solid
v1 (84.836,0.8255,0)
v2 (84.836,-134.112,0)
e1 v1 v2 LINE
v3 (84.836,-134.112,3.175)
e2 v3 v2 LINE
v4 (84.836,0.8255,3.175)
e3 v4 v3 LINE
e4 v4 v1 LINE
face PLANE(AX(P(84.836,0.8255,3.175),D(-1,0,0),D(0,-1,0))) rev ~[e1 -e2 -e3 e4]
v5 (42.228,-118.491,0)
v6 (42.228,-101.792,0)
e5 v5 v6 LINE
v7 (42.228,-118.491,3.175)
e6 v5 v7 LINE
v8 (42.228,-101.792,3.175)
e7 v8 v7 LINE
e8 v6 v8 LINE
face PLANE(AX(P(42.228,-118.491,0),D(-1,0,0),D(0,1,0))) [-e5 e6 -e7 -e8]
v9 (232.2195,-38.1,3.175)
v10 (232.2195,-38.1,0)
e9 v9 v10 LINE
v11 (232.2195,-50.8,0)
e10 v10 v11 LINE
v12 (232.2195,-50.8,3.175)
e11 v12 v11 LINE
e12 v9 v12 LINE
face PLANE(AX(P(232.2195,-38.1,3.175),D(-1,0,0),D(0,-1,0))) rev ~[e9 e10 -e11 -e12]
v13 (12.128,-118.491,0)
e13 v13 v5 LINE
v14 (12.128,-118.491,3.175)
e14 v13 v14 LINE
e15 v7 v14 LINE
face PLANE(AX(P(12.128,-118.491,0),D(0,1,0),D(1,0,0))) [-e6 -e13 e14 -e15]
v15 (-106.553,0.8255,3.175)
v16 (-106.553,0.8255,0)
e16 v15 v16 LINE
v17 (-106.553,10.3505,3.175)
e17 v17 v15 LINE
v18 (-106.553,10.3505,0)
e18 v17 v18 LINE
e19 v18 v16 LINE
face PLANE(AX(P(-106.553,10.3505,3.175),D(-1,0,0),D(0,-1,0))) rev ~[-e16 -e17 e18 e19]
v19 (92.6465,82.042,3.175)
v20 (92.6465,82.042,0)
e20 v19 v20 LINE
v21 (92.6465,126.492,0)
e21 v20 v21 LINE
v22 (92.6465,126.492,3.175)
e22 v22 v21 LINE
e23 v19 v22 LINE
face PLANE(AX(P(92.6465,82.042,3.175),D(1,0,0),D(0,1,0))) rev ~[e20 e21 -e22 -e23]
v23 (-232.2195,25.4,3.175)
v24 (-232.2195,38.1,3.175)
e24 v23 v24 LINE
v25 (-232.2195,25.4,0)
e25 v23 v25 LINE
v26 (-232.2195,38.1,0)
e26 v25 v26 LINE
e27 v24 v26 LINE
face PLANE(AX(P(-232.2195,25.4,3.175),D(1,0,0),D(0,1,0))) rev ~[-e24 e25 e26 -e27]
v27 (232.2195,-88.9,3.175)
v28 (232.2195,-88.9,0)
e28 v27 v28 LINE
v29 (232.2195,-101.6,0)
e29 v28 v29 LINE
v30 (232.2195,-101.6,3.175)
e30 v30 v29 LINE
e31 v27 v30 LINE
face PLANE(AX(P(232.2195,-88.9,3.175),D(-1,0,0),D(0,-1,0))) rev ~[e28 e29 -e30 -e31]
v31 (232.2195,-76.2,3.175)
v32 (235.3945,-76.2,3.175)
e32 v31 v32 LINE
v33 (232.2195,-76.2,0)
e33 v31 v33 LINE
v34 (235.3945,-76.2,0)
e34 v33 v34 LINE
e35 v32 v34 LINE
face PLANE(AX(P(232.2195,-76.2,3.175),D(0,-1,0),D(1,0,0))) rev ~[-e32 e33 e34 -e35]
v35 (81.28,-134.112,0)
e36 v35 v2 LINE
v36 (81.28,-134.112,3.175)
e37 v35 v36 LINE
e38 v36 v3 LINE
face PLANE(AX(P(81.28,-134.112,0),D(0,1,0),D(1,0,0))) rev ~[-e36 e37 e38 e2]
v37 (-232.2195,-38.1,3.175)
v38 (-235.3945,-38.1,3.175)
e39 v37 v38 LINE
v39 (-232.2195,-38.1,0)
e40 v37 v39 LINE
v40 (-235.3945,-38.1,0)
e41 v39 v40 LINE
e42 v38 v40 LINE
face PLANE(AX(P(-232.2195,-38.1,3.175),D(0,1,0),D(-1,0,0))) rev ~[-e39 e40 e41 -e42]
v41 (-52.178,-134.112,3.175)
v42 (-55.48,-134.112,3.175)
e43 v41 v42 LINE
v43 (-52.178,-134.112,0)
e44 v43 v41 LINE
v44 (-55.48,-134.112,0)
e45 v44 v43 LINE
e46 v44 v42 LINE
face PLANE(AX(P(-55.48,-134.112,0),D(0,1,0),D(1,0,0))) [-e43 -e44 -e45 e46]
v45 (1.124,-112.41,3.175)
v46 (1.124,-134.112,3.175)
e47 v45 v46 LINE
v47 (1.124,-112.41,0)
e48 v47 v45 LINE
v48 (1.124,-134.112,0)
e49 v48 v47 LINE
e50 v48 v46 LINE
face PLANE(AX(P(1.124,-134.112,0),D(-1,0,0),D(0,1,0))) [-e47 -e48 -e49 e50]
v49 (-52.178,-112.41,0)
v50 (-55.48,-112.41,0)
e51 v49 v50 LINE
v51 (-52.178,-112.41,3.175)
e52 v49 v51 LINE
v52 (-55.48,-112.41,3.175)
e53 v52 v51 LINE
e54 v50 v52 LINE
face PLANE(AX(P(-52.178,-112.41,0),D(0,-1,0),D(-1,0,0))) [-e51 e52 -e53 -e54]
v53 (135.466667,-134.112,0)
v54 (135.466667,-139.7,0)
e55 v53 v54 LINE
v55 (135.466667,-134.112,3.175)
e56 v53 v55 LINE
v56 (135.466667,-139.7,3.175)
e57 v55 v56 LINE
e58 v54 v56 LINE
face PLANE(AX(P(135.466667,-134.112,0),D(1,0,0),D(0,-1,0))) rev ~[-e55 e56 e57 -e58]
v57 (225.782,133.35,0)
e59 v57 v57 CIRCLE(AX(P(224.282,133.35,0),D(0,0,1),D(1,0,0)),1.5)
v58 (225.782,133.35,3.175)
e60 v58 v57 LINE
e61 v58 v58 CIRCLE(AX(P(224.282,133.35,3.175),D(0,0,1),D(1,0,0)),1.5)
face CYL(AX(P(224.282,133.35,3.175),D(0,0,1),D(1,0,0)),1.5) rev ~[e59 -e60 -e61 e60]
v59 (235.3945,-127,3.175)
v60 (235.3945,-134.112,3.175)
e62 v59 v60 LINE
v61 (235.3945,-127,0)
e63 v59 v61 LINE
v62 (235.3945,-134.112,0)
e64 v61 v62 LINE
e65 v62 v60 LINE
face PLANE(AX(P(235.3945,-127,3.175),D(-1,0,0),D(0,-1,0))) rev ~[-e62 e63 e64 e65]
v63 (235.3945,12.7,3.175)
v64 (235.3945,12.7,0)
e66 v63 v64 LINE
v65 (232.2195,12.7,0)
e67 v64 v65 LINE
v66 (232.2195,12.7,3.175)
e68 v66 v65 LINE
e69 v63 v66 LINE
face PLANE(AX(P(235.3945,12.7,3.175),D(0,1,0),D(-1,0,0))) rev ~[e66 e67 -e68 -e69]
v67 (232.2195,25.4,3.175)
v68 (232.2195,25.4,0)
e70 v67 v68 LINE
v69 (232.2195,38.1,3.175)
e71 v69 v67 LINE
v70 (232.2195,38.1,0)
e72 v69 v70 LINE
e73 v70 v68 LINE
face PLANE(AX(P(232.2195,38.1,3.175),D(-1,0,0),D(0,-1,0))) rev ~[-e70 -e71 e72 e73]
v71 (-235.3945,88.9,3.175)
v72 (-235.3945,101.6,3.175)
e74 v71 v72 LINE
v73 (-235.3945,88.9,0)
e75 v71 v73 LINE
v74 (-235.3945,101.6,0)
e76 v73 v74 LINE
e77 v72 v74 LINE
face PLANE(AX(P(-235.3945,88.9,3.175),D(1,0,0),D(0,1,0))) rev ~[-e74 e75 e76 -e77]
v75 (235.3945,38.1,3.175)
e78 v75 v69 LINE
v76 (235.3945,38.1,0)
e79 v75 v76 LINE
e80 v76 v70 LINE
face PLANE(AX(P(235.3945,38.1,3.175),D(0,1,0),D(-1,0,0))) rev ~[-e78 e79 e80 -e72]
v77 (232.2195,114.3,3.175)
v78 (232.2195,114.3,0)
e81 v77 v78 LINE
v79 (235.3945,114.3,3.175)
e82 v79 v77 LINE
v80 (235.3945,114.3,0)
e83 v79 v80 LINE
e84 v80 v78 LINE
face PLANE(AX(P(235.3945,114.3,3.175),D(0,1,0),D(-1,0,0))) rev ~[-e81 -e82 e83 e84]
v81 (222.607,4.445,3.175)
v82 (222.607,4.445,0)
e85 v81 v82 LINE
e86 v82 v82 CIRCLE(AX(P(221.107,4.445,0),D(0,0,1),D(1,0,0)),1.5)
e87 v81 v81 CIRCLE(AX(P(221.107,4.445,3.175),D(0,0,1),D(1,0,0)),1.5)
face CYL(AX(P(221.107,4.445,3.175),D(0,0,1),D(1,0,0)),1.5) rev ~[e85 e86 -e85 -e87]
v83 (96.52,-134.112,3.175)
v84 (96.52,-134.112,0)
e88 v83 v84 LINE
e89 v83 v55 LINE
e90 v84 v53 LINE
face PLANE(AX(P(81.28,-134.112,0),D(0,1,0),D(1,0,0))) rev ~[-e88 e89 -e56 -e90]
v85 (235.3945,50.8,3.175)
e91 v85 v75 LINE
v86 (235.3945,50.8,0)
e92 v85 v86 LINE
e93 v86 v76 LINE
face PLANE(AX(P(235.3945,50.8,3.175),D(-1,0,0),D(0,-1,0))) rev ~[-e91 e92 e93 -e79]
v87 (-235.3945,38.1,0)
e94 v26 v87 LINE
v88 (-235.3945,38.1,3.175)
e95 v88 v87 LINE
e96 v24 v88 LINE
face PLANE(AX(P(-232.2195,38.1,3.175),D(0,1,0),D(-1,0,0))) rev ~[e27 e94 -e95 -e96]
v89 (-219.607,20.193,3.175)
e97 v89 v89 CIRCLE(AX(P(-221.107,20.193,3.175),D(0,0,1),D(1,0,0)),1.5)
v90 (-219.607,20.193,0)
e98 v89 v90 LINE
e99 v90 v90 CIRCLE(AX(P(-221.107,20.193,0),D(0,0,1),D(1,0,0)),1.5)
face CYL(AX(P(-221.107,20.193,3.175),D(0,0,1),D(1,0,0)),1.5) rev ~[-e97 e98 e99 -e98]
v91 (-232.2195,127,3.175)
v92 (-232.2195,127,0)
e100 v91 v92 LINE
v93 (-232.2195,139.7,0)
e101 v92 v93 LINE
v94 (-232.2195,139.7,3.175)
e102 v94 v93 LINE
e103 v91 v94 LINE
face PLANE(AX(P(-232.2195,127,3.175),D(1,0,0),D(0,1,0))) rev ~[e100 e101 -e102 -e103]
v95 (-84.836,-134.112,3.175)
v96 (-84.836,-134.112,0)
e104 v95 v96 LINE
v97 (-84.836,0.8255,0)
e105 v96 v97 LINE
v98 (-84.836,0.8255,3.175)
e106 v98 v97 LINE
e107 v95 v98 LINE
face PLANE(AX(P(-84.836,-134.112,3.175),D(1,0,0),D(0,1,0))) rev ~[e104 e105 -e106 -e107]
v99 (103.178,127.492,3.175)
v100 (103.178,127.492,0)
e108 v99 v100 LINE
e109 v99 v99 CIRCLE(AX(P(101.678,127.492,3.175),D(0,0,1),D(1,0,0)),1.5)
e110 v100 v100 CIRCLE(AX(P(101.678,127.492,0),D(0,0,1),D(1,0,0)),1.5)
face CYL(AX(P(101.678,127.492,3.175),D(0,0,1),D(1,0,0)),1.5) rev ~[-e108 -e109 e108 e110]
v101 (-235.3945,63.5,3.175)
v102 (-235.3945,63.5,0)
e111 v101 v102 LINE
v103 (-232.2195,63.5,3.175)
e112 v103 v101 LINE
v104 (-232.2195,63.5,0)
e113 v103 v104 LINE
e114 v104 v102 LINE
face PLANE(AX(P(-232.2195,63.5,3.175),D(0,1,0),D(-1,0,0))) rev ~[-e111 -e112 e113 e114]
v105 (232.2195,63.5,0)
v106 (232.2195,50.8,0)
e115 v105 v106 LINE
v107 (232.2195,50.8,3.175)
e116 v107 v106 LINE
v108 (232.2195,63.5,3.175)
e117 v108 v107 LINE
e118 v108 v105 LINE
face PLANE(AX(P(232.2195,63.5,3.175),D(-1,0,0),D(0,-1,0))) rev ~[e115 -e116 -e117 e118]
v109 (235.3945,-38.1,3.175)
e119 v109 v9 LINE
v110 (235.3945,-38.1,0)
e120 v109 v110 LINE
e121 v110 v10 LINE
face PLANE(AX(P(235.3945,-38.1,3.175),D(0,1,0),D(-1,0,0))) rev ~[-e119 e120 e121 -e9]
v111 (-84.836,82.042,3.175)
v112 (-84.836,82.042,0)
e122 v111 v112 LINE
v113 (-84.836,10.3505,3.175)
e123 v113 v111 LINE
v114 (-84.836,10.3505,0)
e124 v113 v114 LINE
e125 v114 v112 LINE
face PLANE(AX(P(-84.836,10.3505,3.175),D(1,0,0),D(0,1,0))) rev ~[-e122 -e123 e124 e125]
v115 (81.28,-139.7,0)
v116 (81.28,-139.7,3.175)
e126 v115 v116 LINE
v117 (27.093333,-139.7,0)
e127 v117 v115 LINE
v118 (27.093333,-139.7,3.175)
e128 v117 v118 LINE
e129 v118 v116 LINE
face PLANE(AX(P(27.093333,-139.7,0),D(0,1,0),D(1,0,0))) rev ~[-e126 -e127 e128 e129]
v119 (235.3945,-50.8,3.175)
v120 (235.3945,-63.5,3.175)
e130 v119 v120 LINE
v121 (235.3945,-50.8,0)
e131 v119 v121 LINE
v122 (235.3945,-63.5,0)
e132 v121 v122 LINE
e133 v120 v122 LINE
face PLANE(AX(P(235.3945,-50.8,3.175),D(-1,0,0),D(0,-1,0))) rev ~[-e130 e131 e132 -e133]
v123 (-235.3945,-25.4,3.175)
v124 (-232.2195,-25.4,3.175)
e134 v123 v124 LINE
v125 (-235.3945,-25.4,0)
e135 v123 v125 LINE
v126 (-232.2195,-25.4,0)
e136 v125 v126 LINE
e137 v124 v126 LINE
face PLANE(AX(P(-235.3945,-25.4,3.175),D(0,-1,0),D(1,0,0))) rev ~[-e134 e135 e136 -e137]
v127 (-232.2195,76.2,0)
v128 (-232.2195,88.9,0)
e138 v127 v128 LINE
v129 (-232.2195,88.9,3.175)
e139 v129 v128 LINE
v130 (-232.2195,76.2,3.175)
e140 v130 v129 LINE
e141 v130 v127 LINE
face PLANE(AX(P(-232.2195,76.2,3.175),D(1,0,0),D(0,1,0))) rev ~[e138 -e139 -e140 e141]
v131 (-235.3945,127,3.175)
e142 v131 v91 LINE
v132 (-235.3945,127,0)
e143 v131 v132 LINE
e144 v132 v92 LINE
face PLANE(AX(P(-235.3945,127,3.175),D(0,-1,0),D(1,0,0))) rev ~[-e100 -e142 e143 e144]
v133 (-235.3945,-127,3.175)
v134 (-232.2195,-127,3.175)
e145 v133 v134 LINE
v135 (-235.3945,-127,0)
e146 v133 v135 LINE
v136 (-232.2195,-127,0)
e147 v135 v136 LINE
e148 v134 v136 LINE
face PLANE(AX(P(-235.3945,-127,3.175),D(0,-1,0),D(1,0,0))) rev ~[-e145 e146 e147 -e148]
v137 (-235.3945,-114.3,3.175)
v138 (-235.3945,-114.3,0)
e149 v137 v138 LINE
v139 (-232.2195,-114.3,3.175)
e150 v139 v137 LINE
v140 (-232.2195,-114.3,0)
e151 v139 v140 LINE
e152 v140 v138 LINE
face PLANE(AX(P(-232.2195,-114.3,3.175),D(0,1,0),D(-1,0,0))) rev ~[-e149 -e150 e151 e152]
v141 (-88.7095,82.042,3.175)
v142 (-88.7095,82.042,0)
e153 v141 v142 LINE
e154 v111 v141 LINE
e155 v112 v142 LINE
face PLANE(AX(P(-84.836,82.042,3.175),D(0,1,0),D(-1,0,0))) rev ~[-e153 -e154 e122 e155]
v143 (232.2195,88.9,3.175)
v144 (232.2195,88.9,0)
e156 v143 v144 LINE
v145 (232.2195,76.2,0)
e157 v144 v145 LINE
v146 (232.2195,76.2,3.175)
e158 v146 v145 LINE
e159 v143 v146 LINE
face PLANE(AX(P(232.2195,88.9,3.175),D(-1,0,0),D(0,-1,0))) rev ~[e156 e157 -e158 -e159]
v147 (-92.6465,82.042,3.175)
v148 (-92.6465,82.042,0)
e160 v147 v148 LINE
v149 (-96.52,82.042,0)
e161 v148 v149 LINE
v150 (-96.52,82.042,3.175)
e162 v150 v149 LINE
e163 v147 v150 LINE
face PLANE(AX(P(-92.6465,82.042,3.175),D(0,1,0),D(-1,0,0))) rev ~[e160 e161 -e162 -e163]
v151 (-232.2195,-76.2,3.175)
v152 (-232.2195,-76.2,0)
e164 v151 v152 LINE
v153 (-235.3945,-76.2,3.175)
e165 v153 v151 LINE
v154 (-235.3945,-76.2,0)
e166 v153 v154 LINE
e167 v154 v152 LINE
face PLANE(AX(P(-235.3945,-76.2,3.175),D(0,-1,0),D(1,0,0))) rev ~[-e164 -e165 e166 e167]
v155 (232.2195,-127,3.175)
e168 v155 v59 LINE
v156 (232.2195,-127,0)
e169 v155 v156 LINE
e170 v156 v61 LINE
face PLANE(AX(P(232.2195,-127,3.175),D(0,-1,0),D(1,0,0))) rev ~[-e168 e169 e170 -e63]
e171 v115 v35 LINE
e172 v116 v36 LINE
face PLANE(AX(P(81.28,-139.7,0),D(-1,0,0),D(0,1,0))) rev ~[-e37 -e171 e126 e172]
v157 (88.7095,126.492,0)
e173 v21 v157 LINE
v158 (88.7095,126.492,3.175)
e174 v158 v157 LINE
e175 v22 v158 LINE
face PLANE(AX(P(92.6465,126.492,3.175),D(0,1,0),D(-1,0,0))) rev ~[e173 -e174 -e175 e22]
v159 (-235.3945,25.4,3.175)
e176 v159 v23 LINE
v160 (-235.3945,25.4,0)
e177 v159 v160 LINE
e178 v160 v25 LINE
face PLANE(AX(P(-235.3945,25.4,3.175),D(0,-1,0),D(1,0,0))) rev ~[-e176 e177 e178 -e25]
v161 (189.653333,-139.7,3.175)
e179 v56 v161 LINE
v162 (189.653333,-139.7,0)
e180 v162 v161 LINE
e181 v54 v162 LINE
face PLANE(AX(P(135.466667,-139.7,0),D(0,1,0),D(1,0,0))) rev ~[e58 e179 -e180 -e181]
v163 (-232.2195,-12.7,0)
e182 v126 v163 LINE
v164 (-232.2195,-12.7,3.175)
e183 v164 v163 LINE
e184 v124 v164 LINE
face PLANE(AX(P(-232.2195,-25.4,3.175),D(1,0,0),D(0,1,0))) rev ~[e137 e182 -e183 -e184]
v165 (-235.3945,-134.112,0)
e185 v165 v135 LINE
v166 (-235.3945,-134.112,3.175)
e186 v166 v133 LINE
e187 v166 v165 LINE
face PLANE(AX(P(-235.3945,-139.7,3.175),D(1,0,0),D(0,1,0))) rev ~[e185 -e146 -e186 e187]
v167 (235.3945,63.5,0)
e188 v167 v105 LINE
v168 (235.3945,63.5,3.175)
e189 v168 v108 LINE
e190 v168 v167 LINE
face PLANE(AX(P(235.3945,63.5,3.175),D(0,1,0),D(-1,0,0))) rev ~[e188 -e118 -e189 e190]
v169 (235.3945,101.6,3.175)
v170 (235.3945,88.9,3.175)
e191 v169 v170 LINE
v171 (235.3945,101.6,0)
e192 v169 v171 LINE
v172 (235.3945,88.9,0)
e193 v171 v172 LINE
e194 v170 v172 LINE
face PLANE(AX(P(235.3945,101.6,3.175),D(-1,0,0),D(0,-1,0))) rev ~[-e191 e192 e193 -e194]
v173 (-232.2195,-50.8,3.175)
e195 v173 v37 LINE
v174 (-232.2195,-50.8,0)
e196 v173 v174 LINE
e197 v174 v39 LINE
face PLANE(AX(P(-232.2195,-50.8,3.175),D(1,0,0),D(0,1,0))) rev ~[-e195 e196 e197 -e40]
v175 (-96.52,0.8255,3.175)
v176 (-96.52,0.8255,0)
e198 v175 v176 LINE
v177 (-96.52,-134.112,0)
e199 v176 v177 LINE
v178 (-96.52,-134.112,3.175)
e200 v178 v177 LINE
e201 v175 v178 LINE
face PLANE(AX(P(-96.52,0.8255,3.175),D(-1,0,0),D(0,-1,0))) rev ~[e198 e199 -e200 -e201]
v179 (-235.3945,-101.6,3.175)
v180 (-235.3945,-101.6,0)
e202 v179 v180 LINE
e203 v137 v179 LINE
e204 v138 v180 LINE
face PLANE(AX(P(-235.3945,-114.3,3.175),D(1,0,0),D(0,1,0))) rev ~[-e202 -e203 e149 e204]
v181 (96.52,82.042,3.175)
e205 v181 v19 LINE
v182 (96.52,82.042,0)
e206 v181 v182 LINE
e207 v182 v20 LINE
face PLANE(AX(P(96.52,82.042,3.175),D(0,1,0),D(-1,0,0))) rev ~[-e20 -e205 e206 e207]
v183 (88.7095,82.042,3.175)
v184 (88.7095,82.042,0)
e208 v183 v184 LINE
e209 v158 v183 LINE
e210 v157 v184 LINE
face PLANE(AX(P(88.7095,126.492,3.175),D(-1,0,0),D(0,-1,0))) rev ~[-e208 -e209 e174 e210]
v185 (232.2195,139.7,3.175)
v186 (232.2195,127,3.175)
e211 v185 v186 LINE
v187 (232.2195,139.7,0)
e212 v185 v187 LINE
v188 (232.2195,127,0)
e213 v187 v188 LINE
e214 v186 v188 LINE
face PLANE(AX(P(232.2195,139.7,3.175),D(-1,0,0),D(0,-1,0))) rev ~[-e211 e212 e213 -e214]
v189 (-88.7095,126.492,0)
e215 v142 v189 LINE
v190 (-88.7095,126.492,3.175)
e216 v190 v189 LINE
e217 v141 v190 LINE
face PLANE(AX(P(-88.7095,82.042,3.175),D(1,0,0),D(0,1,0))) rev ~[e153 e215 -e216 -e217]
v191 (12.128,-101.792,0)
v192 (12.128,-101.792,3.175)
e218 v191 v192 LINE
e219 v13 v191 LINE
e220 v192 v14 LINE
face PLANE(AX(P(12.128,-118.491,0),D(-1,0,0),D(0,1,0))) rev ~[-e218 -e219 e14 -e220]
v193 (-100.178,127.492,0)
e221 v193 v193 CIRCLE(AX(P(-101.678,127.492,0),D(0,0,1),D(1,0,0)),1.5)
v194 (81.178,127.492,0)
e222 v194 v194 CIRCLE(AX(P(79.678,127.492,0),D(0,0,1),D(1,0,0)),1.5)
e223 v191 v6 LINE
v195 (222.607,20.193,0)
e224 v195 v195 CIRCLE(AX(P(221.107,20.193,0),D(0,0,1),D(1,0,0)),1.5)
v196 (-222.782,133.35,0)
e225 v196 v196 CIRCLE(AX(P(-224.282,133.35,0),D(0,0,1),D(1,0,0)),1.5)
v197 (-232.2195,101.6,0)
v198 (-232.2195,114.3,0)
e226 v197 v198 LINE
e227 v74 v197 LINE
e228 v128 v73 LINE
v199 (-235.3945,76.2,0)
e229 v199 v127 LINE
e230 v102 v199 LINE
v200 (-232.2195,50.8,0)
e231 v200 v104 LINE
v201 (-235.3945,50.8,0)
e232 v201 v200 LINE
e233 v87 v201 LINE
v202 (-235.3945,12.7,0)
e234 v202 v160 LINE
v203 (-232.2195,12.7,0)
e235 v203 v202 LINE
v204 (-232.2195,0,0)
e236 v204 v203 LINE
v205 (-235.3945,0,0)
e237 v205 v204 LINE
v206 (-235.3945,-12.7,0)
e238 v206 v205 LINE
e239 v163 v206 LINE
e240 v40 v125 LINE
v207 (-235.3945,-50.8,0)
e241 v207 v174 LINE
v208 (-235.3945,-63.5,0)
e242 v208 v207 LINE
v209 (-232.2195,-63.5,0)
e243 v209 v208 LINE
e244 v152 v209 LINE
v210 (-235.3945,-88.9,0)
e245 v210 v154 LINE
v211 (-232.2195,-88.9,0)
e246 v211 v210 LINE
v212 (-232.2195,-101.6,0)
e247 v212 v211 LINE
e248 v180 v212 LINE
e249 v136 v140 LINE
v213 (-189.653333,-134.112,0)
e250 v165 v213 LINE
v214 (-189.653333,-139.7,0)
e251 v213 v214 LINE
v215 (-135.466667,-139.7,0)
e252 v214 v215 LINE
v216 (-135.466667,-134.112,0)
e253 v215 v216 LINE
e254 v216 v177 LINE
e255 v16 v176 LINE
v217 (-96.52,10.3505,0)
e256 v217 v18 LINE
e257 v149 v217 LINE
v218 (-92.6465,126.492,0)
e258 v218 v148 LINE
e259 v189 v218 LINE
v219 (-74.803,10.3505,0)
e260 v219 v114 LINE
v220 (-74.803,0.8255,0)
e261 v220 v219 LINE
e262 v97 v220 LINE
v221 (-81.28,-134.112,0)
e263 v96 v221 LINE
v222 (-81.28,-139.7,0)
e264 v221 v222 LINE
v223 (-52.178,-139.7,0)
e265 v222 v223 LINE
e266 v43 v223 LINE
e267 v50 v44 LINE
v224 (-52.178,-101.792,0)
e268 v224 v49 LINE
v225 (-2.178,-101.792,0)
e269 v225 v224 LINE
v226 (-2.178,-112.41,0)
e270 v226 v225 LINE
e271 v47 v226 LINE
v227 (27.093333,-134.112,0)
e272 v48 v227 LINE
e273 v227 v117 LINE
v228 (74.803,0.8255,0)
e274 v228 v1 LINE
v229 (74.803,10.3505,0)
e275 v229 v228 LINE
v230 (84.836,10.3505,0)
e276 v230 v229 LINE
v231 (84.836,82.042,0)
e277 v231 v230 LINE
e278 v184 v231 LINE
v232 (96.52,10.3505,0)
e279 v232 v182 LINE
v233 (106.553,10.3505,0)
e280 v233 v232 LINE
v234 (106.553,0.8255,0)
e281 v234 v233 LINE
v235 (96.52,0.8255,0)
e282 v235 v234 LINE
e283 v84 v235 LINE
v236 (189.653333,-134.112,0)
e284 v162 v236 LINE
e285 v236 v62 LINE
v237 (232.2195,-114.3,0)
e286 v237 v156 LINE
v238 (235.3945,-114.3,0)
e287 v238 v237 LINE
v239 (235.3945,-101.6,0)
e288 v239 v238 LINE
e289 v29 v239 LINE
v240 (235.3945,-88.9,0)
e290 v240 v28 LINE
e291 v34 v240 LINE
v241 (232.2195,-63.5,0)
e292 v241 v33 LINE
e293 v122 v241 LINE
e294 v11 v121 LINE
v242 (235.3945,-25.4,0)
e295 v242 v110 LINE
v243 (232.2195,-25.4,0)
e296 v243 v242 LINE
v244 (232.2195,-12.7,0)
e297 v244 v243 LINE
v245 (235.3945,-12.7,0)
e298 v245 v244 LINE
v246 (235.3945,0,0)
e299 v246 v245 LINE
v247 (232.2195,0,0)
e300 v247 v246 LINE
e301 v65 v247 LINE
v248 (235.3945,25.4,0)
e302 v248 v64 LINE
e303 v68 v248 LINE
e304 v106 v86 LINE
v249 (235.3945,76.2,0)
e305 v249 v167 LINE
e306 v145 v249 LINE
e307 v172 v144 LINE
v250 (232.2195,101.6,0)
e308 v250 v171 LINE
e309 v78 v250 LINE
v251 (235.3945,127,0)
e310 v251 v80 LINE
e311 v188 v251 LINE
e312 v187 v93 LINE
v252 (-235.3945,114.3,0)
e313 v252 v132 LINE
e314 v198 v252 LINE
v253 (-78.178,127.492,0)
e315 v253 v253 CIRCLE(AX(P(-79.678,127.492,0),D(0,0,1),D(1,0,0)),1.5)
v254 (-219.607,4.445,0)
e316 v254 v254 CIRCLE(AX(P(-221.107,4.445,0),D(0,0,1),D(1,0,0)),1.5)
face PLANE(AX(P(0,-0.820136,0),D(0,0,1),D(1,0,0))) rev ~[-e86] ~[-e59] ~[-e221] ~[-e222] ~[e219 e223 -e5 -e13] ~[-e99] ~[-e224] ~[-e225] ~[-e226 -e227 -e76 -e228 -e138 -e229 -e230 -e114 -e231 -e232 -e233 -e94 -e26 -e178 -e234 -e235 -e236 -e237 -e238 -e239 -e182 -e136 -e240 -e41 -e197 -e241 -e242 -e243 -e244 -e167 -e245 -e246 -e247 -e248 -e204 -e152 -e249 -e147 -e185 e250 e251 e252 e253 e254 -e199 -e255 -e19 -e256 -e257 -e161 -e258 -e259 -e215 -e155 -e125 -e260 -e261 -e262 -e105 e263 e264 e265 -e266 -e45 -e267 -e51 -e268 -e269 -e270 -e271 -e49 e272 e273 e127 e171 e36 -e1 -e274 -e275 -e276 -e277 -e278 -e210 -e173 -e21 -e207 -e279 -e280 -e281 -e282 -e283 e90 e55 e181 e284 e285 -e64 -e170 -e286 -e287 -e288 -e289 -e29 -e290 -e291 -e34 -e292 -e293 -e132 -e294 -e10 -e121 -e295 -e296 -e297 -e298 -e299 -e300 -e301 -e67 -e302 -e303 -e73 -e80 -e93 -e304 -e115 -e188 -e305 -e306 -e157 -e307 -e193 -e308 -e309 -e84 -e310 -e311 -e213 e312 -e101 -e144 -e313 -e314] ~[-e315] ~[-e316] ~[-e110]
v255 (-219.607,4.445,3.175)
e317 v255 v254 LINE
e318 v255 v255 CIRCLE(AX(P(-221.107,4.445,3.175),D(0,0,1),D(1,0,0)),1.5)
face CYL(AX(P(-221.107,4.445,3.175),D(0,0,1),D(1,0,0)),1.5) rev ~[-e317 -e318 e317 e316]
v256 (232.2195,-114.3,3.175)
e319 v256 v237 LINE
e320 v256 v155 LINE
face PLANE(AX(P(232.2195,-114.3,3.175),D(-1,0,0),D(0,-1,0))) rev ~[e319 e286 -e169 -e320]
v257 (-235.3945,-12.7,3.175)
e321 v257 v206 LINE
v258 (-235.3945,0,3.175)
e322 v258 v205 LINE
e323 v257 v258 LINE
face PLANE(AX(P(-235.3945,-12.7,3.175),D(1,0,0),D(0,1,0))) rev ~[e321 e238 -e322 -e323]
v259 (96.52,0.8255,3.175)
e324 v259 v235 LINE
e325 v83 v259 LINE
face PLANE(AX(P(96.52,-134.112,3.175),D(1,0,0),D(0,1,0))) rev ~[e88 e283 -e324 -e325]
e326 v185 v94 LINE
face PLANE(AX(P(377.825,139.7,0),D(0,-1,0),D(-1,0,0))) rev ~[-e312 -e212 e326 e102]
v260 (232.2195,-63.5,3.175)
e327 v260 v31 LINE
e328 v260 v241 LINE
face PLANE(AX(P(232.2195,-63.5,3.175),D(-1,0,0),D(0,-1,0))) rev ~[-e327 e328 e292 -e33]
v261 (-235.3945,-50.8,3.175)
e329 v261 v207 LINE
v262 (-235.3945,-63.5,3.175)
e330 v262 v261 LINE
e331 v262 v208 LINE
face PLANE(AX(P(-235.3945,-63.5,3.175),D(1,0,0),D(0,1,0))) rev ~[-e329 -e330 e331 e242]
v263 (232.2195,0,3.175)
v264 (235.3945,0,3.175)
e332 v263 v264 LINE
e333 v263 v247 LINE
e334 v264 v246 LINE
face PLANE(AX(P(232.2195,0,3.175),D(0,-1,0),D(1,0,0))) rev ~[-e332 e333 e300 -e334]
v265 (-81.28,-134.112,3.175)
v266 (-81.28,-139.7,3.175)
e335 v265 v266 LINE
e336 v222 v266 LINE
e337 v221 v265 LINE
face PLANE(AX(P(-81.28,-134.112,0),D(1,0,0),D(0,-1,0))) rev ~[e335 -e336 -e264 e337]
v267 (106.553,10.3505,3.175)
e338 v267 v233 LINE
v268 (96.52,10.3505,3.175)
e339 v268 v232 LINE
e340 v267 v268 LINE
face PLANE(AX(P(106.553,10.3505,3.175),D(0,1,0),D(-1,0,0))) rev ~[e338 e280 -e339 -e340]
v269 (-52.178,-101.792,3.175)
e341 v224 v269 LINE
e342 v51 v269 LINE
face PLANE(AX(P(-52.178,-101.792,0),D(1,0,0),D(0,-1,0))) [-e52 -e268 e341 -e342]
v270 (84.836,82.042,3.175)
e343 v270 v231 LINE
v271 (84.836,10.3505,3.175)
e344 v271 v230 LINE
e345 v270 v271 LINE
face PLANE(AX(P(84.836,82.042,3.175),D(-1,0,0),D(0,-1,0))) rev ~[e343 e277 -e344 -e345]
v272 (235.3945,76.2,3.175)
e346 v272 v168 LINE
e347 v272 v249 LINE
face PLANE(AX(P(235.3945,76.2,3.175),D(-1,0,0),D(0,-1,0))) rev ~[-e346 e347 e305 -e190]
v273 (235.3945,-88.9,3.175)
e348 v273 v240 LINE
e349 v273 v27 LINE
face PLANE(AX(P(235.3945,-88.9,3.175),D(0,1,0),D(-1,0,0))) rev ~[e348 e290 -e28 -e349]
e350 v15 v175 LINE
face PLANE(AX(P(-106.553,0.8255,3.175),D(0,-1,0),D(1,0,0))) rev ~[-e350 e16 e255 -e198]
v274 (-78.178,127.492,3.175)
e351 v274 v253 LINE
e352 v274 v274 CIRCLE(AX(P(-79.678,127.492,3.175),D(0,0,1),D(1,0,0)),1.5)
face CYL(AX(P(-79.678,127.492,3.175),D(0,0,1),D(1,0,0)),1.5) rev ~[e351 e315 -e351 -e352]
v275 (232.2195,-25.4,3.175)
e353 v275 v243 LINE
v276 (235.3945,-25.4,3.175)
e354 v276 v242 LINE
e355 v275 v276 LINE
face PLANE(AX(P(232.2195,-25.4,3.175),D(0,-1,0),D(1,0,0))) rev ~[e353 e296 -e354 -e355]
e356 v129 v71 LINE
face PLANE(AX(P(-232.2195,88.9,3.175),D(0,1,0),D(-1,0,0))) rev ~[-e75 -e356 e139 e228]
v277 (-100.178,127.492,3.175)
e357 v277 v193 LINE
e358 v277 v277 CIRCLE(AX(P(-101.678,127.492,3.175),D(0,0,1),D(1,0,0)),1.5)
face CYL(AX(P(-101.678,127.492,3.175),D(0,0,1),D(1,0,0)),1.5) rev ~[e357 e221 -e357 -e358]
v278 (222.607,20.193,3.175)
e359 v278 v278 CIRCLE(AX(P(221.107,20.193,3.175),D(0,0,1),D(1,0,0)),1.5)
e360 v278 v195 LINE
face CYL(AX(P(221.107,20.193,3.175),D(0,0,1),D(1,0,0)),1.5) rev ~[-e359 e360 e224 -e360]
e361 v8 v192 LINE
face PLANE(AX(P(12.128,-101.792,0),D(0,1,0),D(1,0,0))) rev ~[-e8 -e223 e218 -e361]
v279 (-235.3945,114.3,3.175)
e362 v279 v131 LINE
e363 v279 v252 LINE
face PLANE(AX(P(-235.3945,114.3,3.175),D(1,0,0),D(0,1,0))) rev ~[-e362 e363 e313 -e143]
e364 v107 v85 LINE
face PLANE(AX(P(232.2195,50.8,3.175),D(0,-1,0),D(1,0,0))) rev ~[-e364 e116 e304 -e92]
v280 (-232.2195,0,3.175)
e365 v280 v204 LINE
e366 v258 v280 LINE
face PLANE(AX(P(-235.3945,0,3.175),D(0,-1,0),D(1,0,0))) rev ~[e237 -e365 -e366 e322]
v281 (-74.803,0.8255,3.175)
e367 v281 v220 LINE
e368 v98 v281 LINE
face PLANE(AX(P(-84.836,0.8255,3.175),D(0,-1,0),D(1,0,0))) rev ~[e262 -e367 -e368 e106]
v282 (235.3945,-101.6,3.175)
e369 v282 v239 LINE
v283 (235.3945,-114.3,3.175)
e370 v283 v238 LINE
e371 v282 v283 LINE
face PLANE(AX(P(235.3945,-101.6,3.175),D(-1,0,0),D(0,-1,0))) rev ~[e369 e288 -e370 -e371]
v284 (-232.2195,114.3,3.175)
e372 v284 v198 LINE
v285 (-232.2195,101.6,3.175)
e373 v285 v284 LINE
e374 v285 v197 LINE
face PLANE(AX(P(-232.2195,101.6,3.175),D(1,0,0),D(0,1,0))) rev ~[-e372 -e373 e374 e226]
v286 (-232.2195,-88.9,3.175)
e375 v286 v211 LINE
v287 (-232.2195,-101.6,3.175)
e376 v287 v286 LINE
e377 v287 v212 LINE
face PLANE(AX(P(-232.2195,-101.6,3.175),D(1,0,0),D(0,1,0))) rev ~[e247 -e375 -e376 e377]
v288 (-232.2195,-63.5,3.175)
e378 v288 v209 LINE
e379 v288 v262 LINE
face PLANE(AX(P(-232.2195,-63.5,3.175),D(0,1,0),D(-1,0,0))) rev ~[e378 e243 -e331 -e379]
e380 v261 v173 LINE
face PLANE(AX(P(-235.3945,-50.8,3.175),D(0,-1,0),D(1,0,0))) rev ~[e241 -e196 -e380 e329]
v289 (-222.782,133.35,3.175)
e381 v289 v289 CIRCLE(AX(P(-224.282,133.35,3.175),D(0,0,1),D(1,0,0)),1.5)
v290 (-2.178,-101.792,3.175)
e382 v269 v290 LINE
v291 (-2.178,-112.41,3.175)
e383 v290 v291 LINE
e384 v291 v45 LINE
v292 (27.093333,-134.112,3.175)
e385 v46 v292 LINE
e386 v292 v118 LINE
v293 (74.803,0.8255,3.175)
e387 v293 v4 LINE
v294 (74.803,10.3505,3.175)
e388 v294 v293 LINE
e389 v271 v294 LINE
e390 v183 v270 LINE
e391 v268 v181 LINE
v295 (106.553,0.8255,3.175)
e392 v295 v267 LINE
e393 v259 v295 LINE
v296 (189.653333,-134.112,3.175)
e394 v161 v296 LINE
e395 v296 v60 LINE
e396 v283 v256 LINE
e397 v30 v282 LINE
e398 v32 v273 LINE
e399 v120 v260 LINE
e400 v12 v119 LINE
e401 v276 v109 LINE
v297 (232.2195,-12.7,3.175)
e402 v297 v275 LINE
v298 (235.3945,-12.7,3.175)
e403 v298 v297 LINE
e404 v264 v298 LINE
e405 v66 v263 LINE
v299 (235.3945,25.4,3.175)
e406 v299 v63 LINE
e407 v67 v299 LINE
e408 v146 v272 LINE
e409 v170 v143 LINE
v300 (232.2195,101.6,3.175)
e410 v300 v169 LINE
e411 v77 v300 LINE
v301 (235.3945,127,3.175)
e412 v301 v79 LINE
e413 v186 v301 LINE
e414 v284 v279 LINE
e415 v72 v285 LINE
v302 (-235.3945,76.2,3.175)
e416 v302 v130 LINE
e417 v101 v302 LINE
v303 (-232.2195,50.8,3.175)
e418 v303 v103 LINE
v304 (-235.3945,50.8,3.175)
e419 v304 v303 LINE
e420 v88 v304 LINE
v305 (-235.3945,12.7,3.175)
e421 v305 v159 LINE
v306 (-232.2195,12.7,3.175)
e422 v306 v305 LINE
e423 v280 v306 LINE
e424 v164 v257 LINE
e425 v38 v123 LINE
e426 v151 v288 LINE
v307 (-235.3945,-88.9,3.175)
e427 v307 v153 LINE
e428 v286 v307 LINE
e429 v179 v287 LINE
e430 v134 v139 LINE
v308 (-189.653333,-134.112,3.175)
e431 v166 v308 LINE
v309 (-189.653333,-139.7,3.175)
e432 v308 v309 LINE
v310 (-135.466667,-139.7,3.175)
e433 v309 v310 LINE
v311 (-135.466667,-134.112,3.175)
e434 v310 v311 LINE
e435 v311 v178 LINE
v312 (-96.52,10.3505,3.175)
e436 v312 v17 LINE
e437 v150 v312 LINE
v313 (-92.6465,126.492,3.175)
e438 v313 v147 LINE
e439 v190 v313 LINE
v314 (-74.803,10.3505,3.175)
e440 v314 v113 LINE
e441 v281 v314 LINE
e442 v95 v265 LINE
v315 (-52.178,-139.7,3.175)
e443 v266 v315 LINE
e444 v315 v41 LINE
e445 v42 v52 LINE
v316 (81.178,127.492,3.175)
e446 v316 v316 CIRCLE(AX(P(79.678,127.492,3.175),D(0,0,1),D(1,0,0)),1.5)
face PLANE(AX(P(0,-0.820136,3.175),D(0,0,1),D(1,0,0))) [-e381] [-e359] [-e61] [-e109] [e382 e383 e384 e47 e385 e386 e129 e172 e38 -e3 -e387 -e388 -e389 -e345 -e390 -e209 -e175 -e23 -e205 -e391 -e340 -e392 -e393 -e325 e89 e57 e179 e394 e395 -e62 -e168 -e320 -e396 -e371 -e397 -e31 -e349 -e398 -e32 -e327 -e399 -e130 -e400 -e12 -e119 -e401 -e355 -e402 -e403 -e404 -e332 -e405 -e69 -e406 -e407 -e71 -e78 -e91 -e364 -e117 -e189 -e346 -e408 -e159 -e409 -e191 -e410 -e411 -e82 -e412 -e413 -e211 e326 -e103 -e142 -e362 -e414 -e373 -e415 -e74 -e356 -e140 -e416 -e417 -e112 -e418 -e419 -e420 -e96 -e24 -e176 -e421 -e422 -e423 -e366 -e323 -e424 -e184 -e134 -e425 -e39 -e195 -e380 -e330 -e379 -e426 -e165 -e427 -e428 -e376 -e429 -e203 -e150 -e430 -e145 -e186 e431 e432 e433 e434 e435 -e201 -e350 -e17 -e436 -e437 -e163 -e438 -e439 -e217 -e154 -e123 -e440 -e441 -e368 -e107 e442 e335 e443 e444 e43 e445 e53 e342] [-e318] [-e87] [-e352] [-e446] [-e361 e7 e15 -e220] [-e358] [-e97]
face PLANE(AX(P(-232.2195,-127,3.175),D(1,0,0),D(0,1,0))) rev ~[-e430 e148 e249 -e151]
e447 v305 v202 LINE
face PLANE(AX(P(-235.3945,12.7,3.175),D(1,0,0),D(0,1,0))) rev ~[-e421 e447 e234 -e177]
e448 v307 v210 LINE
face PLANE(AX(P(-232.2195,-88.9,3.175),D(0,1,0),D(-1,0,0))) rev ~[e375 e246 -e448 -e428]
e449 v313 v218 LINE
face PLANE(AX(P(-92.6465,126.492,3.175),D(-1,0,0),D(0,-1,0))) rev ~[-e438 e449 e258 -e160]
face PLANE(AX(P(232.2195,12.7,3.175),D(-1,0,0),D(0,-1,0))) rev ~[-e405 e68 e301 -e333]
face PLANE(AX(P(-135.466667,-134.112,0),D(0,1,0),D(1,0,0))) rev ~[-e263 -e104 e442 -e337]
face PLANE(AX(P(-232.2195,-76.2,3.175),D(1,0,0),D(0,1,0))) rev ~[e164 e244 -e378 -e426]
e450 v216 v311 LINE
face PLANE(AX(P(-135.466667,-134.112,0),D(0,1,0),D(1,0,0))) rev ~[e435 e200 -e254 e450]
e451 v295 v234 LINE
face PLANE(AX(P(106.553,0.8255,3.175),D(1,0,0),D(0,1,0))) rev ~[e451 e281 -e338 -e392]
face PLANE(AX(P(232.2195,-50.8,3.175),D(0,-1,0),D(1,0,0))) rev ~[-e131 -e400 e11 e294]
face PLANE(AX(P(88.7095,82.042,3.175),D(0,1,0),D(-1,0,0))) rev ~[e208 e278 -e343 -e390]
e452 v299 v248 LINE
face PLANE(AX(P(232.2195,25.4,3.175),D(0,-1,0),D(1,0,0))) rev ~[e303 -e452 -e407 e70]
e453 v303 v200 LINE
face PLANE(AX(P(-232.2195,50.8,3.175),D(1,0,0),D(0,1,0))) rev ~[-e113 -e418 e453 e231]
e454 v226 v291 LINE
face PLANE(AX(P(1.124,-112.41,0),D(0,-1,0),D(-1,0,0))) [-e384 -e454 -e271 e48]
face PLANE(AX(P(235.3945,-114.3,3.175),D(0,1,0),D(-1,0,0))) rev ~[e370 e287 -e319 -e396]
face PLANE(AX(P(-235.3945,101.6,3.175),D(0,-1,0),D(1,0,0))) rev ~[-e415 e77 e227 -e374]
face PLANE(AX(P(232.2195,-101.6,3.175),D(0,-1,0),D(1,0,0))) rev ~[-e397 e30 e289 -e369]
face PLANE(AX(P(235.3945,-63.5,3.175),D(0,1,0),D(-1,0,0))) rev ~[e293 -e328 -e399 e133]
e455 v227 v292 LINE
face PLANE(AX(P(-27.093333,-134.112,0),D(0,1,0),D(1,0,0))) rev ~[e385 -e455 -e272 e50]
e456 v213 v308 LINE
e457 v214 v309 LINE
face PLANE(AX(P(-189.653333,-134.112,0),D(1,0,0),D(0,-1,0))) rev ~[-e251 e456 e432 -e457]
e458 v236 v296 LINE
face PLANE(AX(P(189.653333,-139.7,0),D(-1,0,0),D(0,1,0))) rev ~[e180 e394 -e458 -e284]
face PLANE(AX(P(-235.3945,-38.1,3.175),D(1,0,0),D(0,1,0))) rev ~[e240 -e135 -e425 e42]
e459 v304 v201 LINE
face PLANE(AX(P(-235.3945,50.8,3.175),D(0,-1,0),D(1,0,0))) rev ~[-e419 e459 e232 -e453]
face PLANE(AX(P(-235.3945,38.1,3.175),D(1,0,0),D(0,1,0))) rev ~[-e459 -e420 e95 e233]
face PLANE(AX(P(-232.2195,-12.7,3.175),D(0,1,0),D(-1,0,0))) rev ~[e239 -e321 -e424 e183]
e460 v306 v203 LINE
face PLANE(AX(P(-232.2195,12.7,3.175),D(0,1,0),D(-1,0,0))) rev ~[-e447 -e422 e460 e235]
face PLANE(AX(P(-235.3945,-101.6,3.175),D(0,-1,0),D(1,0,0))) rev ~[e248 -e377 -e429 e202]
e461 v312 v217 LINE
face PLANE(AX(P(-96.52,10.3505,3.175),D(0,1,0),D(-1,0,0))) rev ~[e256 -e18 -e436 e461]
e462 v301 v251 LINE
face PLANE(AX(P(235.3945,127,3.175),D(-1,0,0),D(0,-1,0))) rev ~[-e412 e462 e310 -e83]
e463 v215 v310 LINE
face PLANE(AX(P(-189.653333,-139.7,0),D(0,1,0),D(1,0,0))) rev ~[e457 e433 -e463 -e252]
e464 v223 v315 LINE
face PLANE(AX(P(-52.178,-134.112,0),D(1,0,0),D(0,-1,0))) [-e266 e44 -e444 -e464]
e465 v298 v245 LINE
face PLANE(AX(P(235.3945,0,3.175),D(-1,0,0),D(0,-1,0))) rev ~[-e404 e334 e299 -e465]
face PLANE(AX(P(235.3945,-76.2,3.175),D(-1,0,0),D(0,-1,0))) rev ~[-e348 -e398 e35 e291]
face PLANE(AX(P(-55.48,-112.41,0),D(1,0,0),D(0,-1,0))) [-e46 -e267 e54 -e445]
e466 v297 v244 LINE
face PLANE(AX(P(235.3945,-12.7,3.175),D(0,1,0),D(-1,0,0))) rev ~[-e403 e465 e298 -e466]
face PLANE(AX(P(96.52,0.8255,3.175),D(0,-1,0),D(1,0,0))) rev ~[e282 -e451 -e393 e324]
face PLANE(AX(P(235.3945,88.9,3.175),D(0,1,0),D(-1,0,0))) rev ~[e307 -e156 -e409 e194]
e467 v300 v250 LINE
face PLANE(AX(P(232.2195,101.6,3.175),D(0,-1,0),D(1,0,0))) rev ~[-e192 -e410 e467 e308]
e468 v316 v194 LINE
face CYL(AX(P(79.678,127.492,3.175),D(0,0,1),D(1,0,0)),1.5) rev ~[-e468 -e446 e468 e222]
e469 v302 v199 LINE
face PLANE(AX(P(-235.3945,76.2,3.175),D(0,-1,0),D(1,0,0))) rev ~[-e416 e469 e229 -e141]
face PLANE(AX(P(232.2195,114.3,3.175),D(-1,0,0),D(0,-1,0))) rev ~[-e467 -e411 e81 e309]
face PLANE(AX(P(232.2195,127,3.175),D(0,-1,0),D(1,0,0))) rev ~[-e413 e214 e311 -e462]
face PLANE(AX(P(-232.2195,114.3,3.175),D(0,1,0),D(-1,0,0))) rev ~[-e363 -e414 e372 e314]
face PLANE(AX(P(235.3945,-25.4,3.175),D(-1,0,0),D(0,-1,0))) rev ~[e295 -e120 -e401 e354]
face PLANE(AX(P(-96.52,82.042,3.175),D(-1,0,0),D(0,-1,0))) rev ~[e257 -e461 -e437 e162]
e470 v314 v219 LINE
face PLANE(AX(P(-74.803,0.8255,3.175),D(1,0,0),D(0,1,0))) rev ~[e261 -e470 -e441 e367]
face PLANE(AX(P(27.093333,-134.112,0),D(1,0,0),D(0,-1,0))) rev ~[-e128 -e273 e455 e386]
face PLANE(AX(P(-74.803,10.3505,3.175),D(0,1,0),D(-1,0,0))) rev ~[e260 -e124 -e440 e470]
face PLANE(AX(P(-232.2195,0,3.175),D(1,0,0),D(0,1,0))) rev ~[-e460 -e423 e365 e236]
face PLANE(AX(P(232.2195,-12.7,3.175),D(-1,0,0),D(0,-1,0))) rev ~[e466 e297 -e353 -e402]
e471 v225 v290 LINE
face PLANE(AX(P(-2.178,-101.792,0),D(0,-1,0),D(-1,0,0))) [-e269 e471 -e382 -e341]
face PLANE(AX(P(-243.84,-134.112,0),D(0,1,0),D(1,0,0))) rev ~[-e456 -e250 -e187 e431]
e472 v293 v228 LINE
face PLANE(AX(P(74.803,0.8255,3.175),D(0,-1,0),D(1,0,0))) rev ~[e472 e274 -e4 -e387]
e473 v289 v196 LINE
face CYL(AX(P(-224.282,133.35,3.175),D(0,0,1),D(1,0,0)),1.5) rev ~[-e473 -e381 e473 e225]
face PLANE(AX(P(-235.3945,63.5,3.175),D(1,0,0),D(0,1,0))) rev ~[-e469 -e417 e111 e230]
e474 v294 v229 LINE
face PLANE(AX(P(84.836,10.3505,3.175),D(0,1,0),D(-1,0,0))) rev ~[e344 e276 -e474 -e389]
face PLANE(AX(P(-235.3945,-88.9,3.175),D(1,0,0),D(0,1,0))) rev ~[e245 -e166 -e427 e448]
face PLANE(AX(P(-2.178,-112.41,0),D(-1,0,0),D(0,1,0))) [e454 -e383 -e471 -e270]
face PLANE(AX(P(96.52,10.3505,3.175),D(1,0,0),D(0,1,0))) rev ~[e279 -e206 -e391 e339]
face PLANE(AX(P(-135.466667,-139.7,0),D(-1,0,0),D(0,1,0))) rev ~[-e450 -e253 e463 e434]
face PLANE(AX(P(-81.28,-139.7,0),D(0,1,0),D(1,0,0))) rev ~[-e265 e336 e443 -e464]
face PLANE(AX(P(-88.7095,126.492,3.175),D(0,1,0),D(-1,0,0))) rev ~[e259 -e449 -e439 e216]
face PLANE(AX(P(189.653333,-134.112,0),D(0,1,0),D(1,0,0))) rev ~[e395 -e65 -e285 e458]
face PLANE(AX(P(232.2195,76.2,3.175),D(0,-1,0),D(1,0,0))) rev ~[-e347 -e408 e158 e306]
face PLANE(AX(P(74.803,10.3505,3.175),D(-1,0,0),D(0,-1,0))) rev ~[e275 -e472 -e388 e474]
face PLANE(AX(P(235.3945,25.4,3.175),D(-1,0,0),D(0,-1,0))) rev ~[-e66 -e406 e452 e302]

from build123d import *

# Parameters (mm, degrees)
SKETCH1_W                    = 3.175
SKETCH1_H                    = 12.7
MAIN_EXTRUDE_DEPTH           = 3.175
SKETCH8_R                    = 1.5
SKETCH8_W                    = 3.175
SKETCH8_H                    = 31.877
MOUNT_HOLES_DEPTH            = 430.752406189
DOOR_SLOTS_DEPTH             = 430.752406189
SKETCH4_W                    = 30.099999998
SKETCH4_H                    = 16.699
TROUGH_AND_LEVER_HOLES_DEPTH = 430.752406189
SKETCH10_R                   = 1.5
DOOR_GUIDE_MOUNT_HOLES_DEPTH = 430.752406189
SKETCH12_R                   = 1.5
EXTENSION_CLIP_HOLES_DEPTH   = 430.752406189
EXTENSION_CENTER_CUT_DEPTH   = 430.752406189


with BuildPart() as part:
    # Sketch1 → Main Extrude (new body)
    with BuildSketch(Plane.XY):
        Polygon((-381, 139.7), (-406.4, 139.7), (-406.4, -139.7), (-352.213333333, -139.7), (-352.213333333, -134.112), (-298.026666667, -134.112), (-298.026666667, -139.7), (-243.84, -139.7), (-243.84, -134.112), (-189.653333333, -134.112), (-189.653333333, -139.7), (-135.466666667, -139.7), (-135.466666667, -134.112), (-81.28, -134.112), (-81.28, -139.7), (-27.093333333, -139.7), (-27.093333333, -134.112), (27.093333333, -134.112), (27.093333333, -139.7), (81.28, -139.7), (81.28, -134.112), (135.466666667, -134.112), (135.466666667, -139.7), (189.653333333, -139.7), (189.653333333, -134.112), (243.84, -134.112), (243.84, -139.7), (298.026666667, -139.7), (298.026666667, -134.112), (352.213333333, -134.112), (352.213333333, -139.7), (406.4, -139.7), (406.4, 139.7), (381, 139.7), (381, 127), (377.825, 127), (377.825, 139.7), (-377.825, 139.7), (-377.825, 127), (-381, 127), align=None)
        with Locations((-379.4125, 107.95)):
            Rectangle(SKETCH1_W, SKETCH1_H, mode=Mode.SUBTRACT)
        with Locations((-379.4125, 82.55)):
            Rectangle(SKETCH1_W, SKETCH1_H, mode=Mode.SUBTRACT)
        with Locations((-379.4125, 57.15)):
            Rectangle(SKETCH1_W, SKETCH1_H, mode=Mode.SUBTRACT)
        with Locations((-379.4125, 31.75)):
            Rectangle(SKETCH1_W, SKETCH1_H, mode=Mode.SUBTRACT)
        with Locations((-379.4125, 6.35)):
            Rectangle(SKETCH1_W, SKETCH1_H, mode=Mode.SUBTRACT)
        with Locations((-379.4125, -19.05)):
            Rectangle(SKETCH1_W, SKETCH1_H, mode=Mode.SUBTRACT)
        with Locations((-379.4125, -44.45)):
            Rectangle(SKETCH1_W, SKETCH1_H, mode=Mode.SUBTRACT)
        with Locations((-379.4125, -69.85)):
            Rectangle(SKETCH1_W, SKETCH1_H, mode=Mode.SUBTRACT)
        with Locations((-379.4125, -95.25)):
            Rectangle(SKETCH1_W, SKETCH1_H, mode=Mode.SUBTRACT)
        with Locations((-379.4125, -120.65)):
            Rectangle(SKETCH1_W, SKETCH1_H, mode=Mode.SUBTRACT)
        with Locations((379.4125, 107.95)):
            Rectangle(SKETCH1_W, SKETCH1_H, mode=Mode.SUBTRACT)
        with Locations((379.4125, 82.55)):
            Rectangle(SKETCH1_W, SKETCH1_H, mode=Mode.SUBTRACT)
        with Locations((379.4125, 57.15)):
            Rectangle(SKETCH1_W, SKETCH1_H, mode=Mode.SUBTRACT)
        with Locations((379.4125, 31.75)):
            Rectangle(SKETCH1_W, SKETCH1_H, mode=Mode.SUBTRACT)
        with Locations((379.4125, 6.35)):
            Rectangle(SKETCH1_W, SKETCH1_H, mode=Mode.SUBTRACT)
        with Locations((379.4125, -19.05)):
            Rectangle(SKETCH1_W, SKETCH1_H, mode=Mode.SUBTRACT)
        with Locations((379.4125, -44.45)):
            Rectangle(SKETCH1_W, SKETCH1_H, mode=Mode.SUBTRACT)
        with Locations((379.4125, -69.85)):
            Rectangle(SKETCH1_W, SKETCH1_H, mode=Mode.SUBTRACT)
        with Locations((379.4125, -95.25)):
            Rectangle(SKETCH1_W, SKETCH1_H, mode=Mode.SUBTRACT)
        with Locations((379.4125, -120.65)):
            Rectangle(SKETCH1_W, SKETCH1_H, mode=Mode.SUBTRACT)
    extrude(amount=MAIN_EXTRUDE_DEPTH)

    # Sketch8 → Mount Holes (cut, through all)
    with BuildSketch(Plane.XY.offset(3.175)):
        with Locations((-393.7, -120.65)):
            Circle(SKETCH8_R)
        with Locations((393.7, -120.65)):
            Circle(SKETCH8_R)
        with Locations((-382.5875, 12.319)):
            Rectangle(SKETCH8_W, SKETCH8_H)
        with Locations((382.5875, 12.319)):
            Rectangle(SKETCH8_W, SKETCH8_H)
    extrude(amount=-MOUNT_HOLES_DEPTH, mode=Mode.SUBTRACT)

    # Sketch3 → Door Slots (cut, through all)
    with BuildSketch(Plane.XY.offset(3.175)):
        Polygon((-88.7095, 126.492), (-92.6465, 126.492), (-92.6465, 82.042), (-96.52, 82.042), (-96.52, 10.3505), (-106.553, 10.3505), (-106.553, 0.8255), (-96.52, 0.8255), (-96.52, -134.112), (-84.836, -134.112), (-84.836, 0.8255), (-74.803, 0.8255), (-74.803, 10.3505), (-84.836, 10.3505), (-84.836, 82.042), (-88.7095, 82.042), align=None)
        Polygon((92.6465, 126.492), (88.7095, 126.492), (88.7095, 82.042), (84.836, 82.042), (84.836, 10.3505), (74.803, 10.3505), (74.803, 0.8255), (84.836, 0.8255), (84.836, -134.112), (96.52, -134.112), (96.52, 0.8255), (106.553, 0.8255), (106.553, 10.3505), (96.52, 10.3505), (96.52, 82.042), (92.6465, 82.042), align=None)
    extrude(amount=-DOOR_SLOTS_DEPTH, mode=Mode.SUBTRACT)

    # Sketch4 → Trough and Lever Holes (cut, through all)
    with BuildSketch(Plane.XY):
        Polygon((-52.178, -112.40999997), (-55.48, -112.40999997), (-55.48, -134.112), (-52.178, -134.112), (-52.178, -139.7), (-2.178, -139.7), (-2.178, -134.112), (1.124, -134.112), (1.124, -112.40999997), (-2.178, -112.40999997), (-2.178, -101.792), (-52.178, -101.792), align=None)
        with Locations((27.178, -110.1415)):
            Rectangle(SKETCH4_W, SKETCH4_H)
    extrude(amount=TROUGH_AND_LEVER_HOLES_DEPTH, mode=Mode.SUBTRACT)

    # Sketch10 → Door Guide Mount Holes (cut, through all)
    with BuildSketch(Plane.XY.offset(3.175)):
        with Locations((-101.678, 127.492)):
            Circle(SKETCH10_R)
        with Locations((-79.678, 127.492)):
            Circle(SKETCH10_R)
        with Locations((79.678, 127.492)):
            Circle(SKETCH10_R)
        with Locations((101.678, 127.492)):
            Circle(SKETCH10_R)
    extrude(amount=-DOOR_GUIDE_MOUNT_HOLES_DEPTH, mode=Mode.SUBTRACT)

    # Sketch12 → Extension Clip Holes (cut, through all)
    with BuildSketch(Plane.XY.offset(3.175)):
        with Locations((-246.507, 20.193)):
            Circle(SKETCH12_R)
        with Locations((-246.507, 4.445)):
            Circle(SKETCH12_R)
        with Locations((-221.107, 4.445)):
            Circle(SKETCH12_R)
        with Locations((-221.107, 20.193)):
            Circle(SKETCH12_R)
        with Locations((-243.332, 133.35)):
            Circle(SKETCH12_R)
        with Locations((-224.282, 133.35)):
            Circle(SKETCH12_R)
        with Locations((224.282, 133.35)):
            Circle(SKETCH12_R)
        with Locations((243.332, 133.35)):
            Circle(SKETCH12_R)
        with Locations((221.107, 20.193)):
            Circle(SKETCH12_R)
        with Locations((221.107, 4.445)):
            Circle(SKETCH12_R)
        with Locations((246.507, 4.445)):
            Circle(SKETCH12_R)
        with Locations((246.507, 20.193)):
            Circle(SKETCH12_R)
    extrude(amount=-EXTENSION_CLIP_HOLES_DEPTH, mode=Mode.SUBTRACT)

    # Sketch11<3> → Extension Center Cut (cut, through all)
    with BuildSketch(Plane.XY.offset(3.175)):
        Polygon((-232.2195, 127), (-232.2195, 139.7), (-406.4, 139.7), (-406.4, -139.7), (-235.3945, -139.7), (-235.3945, -127), (-232.2195, -127), (-232.2195, -114.3), (-235.3945, -114.3), (-235.3945, -101.6), (-232.2195, -101.6), (-232.2195, -88.9), (-235.3945, -88.9), (-235.3945, -76.2), (-232.2195, -76.2), (-232.2195, -63.5), (-235.3945, -63.5), (-235.3945, -50.8), (-232.2195, -50.8), (-232.2195, -38.1), (-235.3945, -38.1), (-235.3945, -25.4), (-232.2195, -25.4), (-232.2195, -12.7), (-235.3945, -12.7), (-235.3945, 0), (-232.2195, 0), (-232.2195, 12.7), (-235.3945, 12.7), (-235.3945, 25.4), (-232.2195, 25.4), (-232.2195, 38.1), (-235.3945, 38.1), (-235.3945, 50.8), (-232.2195, 50.8), (-232.2195, 63.5), (-235.3945, 63.5), (-235.3945, 76.2), (-232.2195, 76.2), (-232.2195, 88.9), (-235.3945, 88.9), (-235.3945, 101.6), (-232.2195, 101.6), (-232.2195, 114.3), (-235.3945, 114.3), (-235.3945, 127), align=None)
        Polygon((406.4, 139.7), (232.2195, 139.7), (232.2195, 127), (235.3945, 127), (235.3945, 114.3), (232.2195, 114.3), (232.2195, 101.6), (235.3945, 101.6), (235.3945, 88.9), (232.2195, 88.9), (232.2195, 76.2), (235.3945, 76.2), (235.3945, 63.5), (232.2195, 63.5), (232.2195, 50.8), (235.3945, 50.8), (235.3945, 38.1), (232.2195, 38.1), (232.2195, 25.4), (235.3945, 25.4), (235.3945, 12.7), (232.2195, 12.7), (232.2195, 0), (235.3945, 0), (235.3945, -12.7), (232.2195, -12.7), (232.2195, -25.4), (235.3945, -25.4), (235.3945, -38.1), (232.2195, -38.1), (232.2195, -50.8), (235.3945, -50.8), (235.3945, -63.5), (232.2195, -63.5), (232.2195, -76.2), (235.3945, -76.2), (235.3945, -88.9), (232.2195, -88.9), (232.2195, -101.6), (235.3945, -101.6), (235.3945, -114.3), (232.2195, -114.3), (232.2195, -127), (235.3945, -127), (235.3945, -139.7), (406.4, -139.7), align=None)
    extrude(amount=-EXTENSION_CENTER_CUT_DEPTH, mode=Mode.SUBTRACT)


solid = part.part
